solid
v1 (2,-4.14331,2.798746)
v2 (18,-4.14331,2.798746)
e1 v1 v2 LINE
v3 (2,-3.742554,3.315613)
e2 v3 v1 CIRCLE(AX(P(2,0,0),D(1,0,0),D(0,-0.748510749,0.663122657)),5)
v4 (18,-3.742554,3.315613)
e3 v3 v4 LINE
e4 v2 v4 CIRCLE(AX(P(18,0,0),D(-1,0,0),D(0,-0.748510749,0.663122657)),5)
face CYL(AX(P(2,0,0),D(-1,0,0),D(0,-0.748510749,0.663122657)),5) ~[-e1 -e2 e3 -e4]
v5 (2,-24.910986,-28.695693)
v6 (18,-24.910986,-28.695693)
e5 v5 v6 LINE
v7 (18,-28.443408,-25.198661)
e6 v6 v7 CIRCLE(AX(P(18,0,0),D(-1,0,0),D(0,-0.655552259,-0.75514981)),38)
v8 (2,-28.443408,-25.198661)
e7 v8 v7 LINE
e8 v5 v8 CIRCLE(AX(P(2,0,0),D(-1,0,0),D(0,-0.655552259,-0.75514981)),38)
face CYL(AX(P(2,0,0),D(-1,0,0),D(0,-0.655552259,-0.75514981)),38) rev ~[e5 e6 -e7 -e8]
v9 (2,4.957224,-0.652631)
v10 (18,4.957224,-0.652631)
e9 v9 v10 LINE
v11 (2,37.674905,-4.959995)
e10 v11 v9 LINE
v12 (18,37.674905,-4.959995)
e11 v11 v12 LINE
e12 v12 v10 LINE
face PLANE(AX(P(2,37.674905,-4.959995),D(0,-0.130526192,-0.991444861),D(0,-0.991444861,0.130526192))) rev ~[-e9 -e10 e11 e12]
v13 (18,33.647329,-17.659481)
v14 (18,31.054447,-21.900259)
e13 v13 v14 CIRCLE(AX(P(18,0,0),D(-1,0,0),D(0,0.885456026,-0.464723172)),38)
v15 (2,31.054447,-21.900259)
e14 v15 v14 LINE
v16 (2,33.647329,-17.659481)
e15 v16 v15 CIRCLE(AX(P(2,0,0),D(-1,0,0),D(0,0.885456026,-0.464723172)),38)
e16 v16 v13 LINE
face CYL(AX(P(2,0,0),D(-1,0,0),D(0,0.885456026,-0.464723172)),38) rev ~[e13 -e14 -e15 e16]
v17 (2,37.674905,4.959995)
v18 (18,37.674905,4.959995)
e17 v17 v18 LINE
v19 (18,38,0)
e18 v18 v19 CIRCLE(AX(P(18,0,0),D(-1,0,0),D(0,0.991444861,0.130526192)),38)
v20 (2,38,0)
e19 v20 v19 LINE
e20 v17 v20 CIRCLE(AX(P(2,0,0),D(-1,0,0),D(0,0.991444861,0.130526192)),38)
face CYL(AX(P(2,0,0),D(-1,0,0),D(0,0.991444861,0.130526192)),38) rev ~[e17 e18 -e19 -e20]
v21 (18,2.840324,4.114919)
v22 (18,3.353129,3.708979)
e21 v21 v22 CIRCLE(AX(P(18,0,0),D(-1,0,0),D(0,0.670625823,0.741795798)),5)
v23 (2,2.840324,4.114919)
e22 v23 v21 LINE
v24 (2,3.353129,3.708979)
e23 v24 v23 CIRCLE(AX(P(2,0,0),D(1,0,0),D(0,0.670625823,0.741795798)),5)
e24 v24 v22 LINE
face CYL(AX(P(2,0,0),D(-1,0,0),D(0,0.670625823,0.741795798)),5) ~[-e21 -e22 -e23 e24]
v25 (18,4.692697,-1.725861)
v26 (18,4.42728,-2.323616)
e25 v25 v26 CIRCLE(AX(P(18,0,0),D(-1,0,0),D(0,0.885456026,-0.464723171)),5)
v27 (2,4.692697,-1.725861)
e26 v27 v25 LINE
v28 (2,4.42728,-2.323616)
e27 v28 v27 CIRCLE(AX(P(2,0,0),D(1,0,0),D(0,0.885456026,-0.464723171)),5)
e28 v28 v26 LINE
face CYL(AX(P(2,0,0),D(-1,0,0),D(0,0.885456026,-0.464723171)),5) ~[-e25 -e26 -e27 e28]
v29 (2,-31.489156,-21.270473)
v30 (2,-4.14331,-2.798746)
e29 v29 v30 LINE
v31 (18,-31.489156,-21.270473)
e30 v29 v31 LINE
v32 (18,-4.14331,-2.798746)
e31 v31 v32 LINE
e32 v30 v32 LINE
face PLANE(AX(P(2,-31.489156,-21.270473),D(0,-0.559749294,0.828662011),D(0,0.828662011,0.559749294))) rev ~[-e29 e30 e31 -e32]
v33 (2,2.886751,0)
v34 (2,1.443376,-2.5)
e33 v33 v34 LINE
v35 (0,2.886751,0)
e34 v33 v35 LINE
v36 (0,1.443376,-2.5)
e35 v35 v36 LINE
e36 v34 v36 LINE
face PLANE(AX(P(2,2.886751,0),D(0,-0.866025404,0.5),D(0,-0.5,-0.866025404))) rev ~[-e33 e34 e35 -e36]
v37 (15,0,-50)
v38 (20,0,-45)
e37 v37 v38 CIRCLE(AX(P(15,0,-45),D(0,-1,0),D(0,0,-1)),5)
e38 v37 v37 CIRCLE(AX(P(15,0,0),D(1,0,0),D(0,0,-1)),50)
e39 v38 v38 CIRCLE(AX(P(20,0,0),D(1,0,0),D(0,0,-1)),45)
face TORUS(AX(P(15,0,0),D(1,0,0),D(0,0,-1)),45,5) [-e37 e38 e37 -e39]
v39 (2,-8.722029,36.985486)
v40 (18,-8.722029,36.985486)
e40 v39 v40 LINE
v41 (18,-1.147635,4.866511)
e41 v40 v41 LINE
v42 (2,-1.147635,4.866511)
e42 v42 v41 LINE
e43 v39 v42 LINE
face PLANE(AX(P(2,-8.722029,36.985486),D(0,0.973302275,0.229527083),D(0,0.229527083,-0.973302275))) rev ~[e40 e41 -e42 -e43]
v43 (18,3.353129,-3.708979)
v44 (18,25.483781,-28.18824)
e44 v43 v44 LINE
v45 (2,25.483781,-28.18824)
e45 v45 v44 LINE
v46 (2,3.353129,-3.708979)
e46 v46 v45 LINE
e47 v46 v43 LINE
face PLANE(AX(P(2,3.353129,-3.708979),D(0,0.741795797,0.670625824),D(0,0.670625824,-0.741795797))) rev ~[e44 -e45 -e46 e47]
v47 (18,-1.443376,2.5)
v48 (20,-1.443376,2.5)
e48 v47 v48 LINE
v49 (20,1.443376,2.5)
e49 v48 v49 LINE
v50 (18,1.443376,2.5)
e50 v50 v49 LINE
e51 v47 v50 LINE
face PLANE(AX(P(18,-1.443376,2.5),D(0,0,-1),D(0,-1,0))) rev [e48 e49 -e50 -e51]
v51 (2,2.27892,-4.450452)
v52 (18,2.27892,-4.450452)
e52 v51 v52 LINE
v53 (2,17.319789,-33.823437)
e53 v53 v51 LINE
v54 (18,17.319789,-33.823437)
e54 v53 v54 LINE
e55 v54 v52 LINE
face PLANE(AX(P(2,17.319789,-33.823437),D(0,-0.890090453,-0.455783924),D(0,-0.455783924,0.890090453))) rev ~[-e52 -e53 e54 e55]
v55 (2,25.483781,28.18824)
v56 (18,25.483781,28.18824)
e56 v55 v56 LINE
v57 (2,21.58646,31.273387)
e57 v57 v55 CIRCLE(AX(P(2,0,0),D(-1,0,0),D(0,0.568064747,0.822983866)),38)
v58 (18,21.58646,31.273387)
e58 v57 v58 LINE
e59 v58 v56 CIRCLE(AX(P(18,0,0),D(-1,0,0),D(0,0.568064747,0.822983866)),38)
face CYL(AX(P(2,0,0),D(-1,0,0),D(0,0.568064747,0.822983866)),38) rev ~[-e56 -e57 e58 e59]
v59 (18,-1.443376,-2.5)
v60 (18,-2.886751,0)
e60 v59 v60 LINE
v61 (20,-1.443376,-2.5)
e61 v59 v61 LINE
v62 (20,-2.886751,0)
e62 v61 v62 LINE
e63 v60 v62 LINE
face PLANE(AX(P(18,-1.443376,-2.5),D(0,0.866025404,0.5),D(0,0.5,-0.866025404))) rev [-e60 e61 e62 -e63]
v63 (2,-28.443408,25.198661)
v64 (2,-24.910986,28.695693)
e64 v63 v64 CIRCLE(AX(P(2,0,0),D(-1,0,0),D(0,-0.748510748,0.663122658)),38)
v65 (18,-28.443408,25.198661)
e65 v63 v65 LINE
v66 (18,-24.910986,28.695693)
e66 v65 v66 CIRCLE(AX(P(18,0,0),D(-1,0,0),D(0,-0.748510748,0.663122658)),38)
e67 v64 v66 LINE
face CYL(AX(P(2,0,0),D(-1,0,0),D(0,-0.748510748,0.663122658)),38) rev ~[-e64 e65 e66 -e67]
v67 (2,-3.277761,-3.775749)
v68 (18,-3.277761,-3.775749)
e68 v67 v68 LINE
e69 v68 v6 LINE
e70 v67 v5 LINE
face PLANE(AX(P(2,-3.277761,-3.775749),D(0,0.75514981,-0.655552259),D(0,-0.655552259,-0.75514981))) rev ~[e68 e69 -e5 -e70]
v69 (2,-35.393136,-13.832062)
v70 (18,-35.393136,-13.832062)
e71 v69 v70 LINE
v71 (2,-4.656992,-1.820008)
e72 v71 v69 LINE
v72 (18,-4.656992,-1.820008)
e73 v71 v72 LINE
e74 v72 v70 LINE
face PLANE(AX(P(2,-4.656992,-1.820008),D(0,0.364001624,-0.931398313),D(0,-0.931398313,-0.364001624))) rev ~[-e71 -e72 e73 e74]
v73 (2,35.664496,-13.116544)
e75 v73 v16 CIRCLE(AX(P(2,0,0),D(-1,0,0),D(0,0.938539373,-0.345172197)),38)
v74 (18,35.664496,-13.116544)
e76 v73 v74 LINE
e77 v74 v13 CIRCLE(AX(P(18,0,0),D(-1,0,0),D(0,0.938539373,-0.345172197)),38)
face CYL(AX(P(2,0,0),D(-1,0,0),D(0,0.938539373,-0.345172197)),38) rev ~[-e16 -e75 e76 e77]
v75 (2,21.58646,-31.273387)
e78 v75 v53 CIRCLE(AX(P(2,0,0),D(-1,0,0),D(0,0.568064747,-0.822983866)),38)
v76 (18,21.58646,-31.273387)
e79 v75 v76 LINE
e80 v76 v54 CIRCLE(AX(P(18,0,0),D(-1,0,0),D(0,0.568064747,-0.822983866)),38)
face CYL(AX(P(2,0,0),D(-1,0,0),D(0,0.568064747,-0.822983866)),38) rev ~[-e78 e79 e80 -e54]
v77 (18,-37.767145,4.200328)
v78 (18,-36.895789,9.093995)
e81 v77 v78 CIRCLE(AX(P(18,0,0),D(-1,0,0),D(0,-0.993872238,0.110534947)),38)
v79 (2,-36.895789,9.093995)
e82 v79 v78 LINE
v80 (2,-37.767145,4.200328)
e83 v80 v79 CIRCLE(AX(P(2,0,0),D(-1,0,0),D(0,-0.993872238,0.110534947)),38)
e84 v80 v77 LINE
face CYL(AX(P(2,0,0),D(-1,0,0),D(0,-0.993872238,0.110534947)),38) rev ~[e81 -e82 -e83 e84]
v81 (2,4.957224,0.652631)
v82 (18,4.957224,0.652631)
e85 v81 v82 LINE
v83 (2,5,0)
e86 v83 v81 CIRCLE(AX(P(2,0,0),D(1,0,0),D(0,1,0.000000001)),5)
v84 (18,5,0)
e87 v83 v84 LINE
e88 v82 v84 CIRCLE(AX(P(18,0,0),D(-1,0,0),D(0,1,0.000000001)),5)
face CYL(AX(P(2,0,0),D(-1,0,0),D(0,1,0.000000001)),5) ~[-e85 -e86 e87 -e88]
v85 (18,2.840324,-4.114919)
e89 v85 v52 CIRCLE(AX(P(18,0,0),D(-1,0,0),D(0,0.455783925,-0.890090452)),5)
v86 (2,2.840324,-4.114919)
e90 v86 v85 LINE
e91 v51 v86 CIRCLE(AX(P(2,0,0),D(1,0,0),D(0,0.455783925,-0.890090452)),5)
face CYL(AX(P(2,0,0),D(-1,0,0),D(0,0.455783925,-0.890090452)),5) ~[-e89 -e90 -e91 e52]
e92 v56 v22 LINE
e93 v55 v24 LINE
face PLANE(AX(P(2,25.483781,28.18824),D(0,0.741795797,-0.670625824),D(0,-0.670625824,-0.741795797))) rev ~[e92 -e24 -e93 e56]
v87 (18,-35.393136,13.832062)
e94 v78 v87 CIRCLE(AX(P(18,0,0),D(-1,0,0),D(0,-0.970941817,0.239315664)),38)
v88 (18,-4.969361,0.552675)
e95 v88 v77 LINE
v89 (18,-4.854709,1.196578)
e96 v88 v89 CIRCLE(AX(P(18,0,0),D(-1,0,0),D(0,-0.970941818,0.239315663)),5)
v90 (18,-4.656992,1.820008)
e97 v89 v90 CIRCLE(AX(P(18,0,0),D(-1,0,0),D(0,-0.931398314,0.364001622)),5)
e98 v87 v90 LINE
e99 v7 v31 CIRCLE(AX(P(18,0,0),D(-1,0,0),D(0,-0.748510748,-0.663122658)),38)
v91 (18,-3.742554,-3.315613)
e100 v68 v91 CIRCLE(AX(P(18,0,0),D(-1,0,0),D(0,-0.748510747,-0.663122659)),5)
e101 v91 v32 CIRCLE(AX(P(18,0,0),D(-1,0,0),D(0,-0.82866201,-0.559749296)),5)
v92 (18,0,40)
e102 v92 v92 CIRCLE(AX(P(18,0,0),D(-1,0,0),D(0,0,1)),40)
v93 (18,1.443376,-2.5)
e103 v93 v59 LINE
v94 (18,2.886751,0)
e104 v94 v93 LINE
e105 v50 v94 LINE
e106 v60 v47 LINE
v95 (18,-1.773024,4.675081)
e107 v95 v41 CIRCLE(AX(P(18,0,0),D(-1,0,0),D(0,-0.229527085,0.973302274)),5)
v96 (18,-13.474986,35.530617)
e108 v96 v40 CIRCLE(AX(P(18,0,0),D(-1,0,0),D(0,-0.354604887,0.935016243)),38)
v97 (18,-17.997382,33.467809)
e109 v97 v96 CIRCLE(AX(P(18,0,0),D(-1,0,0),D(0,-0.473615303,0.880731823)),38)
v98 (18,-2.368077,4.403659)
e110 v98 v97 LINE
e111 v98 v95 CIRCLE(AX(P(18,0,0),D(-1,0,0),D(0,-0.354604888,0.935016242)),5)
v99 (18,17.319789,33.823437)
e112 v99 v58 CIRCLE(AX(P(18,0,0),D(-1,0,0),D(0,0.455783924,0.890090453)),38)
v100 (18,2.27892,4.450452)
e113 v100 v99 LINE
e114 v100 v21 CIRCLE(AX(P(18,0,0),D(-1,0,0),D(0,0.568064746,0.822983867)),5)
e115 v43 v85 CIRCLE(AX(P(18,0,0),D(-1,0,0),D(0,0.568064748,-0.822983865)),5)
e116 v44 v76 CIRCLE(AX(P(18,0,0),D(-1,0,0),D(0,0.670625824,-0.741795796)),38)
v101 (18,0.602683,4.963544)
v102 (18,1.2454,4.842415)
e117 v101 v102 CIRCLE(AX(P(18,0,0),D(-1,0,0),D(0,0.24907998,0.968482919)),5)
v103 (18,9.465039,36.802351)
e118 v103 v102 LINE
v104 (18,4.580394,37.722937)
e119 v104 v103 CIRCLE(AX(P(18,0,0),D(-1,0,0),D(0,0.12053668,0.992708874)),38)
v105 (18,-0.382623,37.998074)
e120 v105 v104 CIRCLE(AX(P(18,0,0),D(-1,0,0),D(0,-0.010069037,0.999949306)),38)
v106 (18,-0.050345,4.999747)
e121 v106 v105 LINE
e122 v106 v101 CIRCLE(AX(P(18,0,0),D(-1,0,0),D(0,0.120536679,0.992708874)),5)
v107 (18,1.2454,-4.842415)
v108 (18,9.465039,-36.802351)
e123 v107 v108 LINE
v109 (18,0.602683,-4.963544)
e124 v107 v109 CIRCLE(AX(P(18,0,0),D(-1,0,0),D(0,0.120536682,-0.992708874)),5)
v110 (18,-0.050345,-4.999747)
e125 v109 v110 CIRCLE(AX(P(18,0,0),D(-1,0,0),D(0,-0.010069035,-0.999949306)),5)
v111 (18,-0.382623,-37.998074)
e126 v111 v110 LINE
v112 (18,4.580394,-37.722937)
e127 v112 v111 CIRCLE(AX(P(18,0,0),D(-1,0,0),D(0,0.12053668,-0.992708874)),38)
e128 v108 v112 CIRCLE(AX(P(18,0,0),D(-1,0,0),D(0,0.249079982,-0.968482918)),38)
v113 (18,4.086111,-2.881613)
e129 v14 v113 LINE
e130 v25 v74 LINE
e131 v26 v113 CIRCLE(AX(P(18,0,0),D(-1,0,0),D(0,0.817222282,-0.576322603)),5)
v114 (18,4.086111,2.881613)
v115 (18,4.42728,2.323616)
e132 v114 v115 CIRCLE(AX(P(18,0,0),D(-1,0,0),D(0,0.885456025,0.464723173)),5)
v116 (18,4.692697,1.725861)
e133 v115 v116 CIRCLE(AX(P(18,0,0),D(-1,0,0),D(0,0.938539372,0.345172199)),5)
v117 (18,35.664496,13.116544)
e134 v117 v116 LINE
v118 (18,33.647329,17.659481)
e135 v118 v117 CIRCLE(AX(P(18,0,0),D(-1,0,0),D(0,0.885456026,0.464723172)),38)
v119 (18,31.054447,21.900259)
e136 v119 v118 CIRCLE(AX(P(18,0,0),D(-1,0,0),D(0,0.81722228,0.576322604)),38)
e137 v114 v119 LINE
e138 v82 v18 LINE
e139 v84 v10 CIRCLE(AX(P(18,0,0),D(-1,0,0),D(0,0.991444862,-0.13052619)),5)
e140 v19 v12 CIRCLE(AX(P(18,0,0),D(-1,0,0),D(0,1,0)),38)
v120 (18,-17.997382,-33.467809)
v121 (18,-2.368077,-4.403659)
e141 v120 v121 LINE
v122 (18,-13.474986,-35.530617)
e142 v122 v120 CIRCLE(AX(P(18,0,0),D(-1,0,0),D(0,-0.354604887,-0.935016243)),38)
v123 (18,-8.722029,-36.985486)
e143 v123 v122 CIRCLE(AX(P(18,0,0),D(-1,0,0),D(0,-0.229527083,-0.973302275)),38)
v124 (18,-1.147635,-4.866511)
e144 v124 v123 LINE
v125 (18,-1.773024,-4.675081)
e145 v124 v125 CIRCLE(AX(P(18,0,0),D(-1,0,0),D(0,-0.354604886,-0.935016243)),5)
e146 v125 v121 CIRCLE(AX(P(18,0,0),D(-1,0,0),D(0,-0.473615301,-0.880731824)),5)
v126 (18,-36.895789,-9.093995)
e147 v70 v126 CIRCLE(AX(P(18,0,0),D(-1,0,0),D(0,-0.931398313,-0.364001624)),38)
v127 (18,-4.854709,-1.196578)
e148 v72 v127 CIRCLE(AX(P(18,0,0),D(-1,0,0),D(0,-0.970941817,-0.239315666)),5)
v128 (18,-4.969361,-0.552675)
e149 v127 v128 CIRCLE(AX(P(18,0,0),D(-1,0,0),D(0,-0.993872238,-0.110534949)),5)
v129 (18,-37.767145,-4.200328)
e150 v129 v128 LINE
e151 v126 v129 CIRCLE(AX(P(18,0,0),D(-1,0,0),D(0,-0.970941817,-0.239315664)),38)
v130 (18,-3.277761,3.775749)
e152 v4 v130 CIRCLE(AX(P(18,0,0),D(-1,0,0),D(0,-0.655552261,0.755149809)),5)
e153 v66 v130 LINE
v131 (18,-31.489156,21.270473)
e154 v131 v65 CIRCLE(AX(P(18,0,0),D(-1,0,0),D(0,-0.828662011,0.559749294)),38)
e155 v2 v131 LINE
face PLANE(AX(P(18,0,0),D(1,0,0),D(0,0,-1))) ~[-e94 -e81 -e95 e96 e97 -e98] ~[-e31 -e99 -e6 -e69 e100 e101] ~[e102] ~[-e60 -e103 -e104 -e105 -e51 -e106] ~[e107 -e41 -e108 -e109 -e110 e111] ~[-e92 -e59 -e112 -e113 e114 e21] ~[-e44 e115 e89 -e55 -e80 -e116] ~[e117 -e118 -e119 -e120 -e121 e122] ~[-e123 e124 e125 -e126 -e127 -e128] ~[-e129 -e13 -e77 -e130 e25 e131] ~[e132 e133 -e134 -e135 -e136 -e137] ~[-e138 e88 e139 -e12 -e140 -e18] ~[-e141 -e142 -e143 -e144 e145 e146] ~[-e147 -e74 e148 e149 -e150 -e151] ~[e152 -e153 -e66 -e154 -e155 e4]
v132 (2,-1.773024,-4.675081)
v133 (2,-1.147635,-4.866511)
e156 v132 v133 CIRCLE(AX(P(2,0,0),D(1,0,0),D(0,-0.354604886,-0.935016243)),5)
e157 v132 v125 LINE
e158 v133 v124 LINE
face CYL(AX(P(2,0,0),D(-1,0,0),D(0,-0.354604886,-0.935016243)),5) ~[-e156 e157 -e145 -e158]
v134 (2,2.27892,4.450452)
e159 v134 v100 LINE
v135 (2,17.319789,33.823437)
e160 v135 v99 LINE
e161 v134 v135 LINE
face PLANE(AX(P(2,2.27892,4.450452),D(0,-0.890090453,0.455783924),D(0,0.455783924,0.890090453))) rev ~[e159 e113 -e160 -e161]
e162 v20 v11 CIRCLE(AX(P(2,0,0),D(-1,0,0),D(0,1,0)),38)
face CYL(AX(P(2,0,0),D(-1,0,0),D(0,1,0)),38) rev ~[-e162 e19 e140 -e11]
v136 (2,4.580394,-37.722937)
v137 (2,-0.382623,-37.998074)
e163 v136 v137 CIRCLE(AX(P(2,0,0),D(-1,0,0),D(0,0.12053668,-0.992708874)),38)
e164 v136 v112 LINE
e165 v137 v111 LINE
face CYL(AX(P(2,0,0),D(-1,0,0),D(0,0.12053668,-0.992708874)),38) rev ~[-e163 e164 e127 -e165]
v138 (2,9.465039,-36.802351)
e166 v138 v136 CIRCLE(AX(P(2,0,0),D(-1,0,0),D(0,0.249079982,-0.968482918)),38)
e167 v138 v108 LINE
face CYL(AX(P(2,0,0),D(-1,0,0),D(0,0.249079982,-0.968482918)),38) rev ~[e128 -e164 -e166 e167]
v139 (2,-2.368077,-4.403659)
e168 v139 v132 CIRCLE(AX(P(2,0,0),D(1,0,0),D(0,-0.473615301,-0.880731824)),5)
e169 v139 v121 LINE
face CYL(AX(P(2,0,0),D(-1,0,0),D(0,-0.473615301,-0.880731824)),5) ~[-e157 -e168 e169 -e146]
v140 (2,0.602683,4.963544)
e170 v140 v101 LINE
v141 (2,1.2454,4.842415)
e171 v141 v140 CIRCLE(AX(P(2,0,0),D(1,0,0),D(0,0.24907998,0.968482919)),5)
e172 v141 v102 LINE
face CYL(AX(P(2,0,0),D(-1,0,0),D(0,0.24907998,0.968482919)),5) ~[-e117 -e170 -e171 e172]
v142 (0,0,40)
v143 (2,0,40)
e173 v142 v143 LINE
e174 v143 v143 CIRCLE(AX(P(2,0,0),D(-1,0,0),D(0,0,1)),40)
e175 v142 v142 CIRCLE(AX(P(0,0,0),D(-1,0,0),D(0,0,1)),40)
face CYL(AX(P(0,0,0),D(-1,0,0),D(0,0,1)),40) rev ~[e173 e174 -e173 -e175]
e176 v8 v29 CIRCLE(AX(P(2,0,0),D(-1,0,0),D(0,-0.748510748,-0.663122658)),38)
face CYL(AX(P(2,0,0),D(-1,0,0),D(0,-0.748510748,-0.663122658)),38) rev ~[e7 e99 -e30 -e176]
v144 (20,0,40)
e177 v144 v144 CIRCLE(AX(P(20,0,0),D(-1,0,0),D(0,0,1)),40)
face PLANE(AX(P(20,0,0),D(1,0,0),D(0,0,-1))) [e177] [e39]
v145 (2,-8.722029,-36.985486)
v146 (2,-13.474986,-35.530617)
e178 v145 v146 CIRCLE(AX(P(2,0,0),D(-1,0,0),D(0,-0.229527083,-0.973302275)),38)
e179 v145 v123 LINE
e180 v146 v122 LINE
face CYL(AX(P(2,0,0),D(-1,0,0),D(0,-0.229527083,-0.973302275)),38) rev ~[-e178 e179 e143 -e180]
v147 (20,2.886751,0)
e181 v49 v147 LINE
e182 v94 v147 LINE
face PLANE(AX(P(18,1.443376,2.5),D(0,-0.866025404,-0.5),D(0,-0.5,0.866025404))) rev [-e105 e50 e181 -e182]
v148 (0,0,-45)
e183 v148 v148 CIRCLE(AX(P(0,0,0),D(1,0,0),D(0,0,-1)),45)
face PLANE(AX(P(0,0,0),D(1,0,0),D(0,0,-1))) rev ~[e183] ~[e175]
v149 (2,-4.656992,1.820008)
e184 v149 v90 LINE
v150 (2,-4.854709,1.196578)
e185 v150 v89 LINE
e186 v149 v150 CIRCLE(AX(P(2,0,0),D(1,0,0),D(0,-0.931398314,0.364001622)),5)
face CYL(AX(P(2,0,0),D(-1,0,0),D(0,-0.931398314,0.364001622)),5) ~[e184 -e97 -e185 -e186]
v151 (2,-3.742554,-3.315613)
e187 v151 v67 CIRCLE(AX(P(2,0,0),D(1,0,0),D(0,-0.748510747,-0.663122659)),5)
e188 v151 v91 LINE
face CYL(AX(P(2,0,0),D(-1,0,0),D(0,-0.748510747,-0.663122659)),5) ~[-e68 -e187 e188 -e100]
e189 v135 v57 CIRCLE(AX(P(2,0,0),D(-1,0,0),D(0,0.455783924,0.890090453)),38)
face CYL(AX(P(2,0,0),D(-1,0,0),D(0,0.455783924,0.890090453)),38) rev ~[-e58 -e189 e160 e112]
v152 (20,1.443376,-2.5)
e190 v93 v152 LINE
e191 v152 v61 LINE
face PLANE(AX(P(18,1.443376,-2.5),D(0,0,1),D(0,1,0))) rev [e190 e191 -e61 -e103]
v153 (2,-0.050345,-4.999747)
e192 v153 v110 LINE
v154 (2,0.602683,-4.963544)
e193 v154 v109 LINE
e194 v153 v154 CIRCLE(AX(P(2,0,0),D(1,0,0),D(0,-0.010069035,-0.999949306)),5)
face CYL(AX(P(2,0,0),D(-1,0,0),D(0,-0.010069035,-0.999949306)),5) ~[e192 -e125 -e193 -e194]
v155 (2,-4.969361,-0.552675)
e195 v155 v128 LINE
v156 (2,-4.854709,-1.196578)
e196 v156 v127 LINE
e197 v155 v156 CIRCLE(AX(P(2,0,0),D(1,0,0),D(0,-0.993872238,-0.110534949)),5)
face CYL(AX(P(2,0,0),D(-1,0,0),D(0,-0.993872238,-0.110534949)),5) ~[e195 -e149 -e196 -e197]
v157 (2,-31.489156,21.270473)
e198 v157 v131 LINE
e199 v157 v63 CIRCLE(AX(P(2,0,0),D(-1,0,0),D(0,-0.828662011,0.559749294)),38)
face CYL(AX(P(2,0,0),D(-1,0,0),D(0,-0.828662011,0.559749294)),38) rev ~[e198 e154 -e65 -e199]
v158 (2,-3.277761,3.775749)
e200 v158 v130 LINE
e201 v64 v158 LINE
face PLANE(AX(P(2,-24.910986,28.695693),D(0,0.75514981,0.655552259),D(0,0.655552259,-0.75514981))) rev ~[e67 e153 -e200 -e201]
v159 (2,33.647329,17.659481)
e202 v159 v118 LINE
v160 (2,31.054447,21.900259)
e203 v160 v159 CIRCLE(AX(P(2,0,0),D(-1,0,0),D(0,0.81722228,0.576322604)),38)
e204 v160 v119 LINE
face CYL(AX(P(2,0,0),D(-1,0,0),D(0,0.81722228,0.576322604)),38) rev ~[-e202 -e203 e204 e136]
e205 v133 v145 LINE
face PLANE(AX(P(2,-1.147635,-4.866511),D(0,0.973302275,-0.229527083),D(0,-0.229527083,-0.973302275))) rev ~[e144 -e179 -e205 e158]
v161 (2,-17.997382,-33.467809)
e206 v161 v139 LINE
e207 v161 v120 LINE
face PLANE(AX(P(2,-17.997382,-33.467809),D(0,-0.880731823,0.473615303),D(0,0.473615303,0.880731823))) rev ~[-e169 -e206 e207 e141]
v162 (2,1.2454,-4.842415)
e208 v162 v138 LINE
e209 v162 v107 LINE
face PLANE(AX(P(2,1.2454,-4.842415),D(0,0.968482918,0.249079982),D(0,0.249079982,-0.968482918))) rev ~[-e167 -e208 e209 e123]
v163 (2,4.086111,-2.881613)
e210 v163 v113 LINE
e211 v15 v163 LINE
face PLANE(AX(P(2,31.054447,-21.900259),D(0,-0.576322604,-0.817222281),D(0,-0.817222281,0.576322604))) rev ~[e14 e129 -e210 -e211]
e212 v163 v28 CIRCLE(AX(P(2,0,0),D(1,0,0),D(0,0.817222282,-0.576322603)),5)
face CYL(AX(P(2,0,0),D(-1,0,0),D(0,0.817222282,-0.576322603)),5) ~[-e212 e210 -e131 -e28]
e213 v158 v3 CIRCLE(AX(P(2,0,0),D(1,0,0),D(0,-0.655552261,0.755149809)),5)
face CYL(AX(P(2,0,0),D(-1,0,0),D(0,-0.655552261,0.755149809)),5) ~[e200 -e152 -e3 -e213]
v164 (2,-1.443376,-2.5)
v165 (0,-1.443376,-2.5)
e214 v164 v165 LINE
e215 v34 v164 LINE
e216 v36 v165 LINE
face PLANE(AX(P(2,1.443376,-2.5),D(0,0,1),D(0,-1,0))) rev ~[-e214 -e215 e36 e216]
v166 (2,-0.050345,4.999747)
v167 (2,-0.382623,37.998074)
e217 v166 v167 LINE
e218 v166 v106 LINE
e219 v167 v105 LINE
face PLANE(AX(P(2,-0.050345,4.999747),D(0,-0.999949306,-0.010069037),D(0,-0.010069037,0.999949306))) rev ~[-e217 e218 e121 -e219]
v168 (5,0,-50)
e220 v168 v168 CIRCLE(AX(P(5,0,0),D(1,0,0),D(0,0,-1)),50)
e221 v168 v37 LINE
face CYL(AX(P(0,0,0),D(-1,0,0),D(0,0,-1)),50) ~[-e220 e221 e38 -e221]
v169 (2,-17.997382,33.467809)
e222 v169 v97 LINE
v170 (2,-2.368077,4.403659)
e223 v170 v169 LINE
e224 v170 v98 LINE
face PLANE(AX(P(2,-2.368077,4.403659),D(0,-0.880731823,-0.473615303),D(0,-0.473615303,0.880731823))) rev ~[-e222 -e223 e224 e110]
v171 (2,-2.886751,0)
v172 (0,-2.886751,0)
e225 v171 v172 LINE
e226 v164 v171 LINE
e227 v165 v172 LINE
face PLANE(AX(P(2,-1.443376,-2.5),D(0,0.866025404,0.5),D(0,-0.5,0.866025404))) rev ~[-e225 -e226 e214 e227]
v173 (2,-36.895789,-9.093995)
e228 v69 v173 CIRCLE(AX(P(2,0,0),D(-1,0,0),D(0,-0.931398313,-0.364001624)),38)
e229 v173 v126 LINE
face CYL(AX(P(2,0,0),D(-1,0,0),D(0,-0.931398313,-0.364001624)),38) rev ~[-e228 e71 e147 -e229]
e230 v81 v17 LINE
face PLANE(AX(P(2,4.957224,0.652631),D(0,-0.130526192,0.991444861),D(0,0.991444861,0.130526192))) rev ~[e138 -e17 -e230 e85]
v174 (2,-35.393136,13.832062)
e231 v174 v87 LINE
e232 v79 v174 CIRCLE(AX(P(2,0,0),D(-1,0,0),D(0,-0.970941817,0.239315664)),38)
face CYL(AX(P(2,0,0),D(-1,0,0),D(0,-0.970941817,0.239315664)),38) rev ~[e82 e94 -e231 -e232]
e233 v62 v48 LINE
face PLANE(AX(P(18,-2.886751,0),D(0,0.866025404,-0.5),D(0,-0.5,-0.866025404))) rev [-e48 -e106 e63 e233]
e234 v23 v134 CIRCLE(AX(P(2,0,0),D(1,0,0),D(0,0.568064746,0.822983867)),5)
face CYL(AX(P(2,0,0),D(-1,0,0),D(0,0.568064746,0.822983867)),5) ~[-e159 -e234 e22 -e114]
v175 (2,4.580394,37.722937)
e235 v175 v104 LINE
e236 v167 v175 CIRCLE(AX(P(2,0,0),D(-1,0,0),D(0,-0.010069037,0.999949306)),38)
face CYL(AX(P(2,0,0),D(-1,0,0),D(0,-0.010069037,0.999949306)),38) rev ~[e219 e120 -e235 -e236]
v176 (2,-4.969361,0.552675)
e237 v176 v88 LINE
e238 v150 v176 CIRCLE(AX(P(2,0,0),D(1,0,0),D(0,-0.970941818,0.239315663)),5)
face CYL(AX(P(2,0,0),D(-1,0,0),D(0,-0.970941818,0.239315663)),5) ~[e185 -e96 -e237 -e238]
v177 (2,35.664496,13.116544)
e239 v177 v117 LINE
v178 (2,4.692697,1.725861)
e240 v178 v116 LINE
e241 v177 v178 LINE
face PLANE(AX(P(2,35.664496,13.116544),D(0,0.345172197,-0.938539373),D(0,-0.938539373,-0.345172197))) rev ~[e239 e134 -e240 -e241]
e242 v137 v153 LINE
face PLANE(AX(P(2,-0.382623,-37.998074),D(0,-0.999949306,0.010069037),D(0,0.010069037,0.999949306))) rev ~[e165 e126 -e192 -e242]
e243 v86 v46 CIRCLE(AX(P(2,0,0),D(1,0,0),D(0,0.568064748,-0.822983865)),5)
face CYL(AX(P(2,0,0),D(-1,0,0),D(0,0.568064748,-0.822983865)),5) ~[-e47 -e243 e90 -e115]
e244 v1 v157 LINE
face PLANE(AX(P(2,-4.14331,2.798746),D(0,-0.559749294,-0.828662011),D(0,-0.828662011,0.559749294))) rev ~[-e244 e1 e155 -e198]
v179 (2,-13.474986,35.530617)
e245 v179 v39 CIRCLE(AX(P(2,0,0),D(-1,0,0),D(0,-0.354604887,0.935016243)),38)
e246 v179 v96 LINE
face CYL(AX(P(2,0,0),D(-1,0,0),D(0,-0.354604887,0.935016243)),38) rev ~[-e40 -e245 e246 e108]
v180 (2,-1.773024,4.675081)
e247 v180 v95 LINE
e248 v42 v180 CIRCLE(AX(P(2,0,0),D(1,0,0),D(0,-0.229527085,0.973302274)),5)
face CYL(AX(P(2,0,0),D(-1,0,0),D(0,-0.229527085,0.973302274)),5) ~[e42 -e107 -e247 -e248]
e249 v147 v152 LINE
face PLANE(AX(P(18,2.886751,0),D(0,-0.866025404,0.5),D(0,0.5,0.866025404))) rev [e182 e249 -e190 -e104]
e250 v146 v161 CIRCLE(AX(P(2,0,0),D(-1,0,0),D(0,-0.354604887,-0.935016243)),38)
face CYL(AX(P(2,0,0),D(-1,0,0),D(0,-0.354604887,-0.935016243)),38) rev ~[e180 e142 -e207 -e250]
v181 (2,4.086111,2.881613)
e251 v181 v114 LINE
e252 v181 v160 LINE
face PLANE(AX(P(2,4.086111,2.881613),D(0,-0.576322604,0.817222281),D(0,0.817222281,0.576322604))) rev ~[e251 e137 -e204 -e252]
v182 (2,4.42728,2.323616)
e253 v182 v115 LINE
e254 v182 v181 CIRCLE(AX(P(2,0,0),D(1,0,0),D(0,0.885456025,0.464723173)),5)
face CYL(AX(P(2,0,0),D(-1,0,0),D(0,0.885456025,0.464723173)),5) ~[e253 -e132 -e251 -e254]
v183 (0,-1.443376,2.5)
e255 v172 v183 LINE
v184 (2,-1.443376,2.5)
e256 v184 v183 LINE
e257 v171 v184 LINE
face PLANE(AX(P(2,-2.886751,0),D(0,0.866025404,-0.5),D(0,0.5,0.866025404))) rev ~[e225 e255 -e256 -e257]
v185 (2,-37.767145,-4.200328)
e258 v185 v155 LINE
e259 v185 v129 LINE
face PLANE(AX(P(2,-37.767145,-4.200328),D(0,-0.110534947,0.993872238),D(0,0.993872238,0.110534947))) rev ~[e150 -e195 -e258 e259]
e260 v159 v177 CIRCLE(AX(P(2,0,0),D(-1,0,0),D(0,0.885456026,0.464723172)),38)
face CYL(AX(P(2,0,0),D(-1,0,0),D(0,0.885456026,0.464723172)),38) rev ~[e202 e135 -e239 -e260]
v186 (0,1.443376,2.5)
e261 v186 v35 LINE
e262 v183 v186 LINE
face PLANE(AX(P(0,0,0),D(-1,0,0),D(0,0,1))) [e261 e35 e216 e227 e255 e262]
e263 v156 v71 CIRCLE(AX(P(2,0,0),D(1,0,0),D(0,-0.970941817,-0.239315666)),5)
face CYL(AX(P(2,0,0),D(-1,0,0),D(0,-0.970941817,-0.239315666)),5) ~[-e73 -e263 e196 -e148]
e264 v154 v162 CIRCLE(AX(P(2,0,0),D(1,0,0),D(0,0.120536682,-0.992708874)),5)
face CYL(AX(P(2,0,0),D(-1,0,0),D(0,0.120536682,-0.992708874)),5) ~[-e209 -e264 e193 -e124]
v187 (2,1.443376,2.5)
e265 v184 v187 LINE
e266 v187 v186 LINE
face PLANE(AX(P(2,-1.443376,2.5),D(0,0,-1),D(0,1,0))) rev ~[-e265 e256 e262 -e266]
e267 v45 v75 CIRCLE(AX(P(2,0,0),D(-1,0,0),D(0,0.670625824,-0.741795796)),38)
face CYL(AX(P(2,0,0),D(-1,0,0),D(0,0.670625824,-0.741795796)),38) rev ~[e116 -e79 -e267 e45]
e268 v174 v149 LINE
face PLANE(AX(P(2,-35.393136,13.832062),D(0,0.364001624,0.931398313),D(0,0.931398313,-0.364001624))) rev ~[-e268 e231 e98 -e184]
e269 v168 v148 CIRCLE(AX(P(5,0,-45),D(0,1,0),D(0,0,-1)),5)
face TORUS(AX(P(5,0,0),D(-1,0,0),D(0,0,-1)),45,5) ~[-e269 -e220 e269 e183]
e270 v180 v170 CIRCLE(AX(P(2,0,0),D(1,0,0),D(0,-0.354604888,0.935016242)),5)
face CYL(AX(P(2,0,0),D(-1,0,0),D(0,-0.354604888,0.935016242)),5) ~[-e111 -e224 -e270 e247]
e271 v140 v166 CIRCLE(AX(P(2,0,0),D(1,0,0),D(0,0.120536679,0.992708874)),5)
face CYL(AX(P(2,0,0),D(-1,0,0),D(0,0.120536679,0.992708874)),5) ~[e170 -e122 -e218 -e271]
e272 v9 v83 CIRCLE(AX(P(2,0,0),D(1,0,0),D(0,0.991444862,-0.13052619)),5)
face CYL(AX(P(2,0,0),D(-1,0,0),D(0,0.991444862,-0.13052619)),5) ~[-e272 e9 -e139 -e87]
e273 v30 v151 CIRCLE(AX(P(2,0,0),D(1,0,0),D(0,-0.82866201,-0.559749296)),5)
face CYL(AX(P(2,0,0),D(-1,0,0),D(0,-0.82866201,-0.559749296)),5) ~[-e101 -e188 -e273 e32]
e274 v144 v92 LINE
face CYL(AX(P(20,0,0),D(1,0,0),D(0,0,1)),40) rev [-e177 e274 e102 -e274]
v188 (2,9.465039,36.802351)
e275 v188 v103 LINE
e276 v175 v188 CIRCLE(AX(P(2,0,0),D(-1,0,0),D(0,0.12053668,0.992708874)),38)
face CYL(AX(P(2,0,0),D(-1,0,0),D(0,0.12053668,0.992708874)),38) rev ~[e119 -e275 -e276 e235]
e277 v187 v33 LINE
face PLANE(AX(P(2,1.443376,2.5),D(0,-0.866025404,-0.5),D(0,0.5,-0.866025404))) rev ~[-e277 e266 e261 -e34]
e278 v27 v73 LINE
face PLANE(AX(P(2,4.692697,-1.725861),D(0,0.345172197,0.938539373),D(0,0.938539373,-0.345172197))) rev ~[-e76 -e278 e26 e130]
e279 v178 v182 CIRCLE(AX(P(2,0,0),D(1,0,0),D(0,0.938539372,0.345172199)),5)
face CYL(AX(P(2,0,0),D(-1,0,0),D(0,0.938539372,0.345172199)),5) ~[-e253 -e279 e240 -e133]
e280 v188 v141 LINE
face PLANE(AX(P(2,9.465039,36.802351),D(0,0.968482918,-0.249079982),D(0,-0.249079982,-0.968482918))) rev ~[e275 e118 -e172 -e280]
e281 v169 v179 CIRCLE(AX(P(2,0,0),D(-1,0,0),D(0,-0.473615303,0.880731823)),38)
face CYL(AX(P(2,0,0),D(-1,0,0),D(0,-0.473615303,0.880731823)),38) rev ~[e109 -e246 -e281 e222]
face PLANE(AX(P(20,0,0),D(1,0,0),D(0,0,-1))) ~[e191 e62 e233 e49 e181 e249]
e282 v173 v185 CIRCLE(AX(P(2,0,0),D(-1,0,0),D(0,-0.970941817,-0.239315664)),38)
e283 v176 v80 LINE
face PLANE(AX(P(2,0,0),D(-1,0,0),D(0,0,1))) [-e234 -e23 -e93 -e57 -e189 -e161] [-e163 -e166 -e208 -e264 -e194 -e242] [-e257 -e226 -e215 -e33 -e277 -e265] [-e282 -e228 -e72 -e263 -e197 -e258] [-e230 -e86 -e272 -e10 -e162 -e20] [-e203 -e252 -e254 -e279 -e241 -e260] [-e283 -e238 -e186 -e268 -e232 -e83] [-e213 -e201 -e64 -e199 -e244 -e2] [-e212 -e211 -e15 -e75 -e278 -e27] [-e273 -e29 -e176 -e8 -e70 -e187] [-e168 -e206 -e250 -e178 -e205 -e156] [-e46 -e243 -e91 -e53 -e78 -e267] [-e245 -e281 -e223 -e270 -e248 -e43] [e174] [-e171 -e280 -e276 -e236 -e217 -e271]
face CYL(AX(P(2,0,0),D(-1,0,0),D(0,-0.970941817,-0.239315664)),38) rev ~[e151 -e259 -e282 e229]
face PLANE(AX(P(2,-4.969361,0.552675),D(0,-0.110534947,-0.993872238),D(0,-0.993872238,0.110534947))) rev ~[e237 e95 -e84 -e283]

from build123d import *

# Parameters (mm, degrees)
SKETCH1_R           = 50
BOSS_EXTRUDE1_DEPTH = 20
SKETCH2_R           = 40
CUT_EXTRUDE1_DEPTH  = 2
CUT_EXTRUDE2_DEPTH  = 73.965745388
CIRPATTERN1_COUNT   = 13
FILLET1_R           = 5
BOSS_EXTRUDE2_DEPTH = 2


with BuildPart() as part:
    # Sketch1 → Boss-Extrude1 (new body)
    with BuildSketch(Plane(origin=(0, 0, 0), x_dir=(0, 0, -1), z_dir=(1, 0, 0))):
        Circle(SKETCH1_R)
    extrude(amount=BOSS_EXTRUDE1_DEPTH)

    # Sketch2 → Cut-Extrude1 (cut)
    with BuildSketch(Plane.ZY):
        Circle(SKETCH2_R)
    cut_extrude1 = extrude(amount=-CUT_EXTRUDE1_DEPTH, mode=Mode.SUBTRACT)

    # Mirror1: Cut-Extrude1 across plane
    add(cut_extrude1.mirror(Plane(origin=(10, 0, 0), x_dir=(0, 0, 1), z_dir=(1, 0, 0))), mode=Mode.SUBTRACT)

    # Sketch3 → Cut-Extrude2 (cut, through all)
    with BuildSketch(Plane.ZY.offset(-2)):
        with BuildLine():
            Line((0, 38), (0, 5))
            ThreePointArc((0, 5), (0.327015646, 4.989294616), (0.652630961, 4.957224307))
            Line((0.652630961, 4.957224307), (4.959995304, 37.674904732))
            ThreePointArc((4.959995304, 37.674904732), (2.485318911, 37.918639083), (0, 38))
        make_face()
        with BuildLine():
            ThreePointArc((-0.652630961, 4.957224307), (-0.327015646, 4.989294616), (0, 5))
            Line((0, 5), (0, 38))
            ThreePointArc((0, 38), (-2.485318911, 37.918639083), (-4.959995304, 37.674904732))
            Line((-4.959995304, 37.674904732), (-0.652630961, 4.957224307))
        make_face()
    cut_extrude2 = extrude(amount=-CUT_EXTRUDE2_DEPTH, mode=Mode.SUBTRACT)

    # CirPattern1: Cut-Extrude2 ×13 about axis
    cirpattern1_axis = Axis((0, 0, 0), (1, 0, 0))
    for i in range(1, CIRPATTERN1_COUNT):
        add(cut_extrude2.rotate(cirpattern1_axis, i * 360 / CIRPATTERN1_COUNT), mode=Mode.SUBTRACT)

    # Fillet1
    fillet1_edges = [part.edges().sort_by_distance(p)[0] for p in [
        (0, 0, 50),
        (20, 0, 50),
    ]]
    fillet(fillet1_edges, radius=FILLET1_R)

    # Sketch4 → Boss-Extrude2 (add)
    with BuildSketch(Plane.ZY.offset(-2)):
        Polygon((0, -2.886751346), (2.5, -1.443375673), (2.5, 1.443375673), (0, 2.886751346), (-2.5, 1.443375673), (-2.5, -1.443375673), align=None)
    boss_extrude2 = extrude(amount=BOSS_EXTRUDE2_DEPTH)

    # Mirror2: Boss-Extrude2 across plane
    add(boss_extrude2.mirror(Plane(origin=(10, 0, 0), x_dir=(0, 0, 1), z_dir=(1, 0, 0))))


solid = part.part
